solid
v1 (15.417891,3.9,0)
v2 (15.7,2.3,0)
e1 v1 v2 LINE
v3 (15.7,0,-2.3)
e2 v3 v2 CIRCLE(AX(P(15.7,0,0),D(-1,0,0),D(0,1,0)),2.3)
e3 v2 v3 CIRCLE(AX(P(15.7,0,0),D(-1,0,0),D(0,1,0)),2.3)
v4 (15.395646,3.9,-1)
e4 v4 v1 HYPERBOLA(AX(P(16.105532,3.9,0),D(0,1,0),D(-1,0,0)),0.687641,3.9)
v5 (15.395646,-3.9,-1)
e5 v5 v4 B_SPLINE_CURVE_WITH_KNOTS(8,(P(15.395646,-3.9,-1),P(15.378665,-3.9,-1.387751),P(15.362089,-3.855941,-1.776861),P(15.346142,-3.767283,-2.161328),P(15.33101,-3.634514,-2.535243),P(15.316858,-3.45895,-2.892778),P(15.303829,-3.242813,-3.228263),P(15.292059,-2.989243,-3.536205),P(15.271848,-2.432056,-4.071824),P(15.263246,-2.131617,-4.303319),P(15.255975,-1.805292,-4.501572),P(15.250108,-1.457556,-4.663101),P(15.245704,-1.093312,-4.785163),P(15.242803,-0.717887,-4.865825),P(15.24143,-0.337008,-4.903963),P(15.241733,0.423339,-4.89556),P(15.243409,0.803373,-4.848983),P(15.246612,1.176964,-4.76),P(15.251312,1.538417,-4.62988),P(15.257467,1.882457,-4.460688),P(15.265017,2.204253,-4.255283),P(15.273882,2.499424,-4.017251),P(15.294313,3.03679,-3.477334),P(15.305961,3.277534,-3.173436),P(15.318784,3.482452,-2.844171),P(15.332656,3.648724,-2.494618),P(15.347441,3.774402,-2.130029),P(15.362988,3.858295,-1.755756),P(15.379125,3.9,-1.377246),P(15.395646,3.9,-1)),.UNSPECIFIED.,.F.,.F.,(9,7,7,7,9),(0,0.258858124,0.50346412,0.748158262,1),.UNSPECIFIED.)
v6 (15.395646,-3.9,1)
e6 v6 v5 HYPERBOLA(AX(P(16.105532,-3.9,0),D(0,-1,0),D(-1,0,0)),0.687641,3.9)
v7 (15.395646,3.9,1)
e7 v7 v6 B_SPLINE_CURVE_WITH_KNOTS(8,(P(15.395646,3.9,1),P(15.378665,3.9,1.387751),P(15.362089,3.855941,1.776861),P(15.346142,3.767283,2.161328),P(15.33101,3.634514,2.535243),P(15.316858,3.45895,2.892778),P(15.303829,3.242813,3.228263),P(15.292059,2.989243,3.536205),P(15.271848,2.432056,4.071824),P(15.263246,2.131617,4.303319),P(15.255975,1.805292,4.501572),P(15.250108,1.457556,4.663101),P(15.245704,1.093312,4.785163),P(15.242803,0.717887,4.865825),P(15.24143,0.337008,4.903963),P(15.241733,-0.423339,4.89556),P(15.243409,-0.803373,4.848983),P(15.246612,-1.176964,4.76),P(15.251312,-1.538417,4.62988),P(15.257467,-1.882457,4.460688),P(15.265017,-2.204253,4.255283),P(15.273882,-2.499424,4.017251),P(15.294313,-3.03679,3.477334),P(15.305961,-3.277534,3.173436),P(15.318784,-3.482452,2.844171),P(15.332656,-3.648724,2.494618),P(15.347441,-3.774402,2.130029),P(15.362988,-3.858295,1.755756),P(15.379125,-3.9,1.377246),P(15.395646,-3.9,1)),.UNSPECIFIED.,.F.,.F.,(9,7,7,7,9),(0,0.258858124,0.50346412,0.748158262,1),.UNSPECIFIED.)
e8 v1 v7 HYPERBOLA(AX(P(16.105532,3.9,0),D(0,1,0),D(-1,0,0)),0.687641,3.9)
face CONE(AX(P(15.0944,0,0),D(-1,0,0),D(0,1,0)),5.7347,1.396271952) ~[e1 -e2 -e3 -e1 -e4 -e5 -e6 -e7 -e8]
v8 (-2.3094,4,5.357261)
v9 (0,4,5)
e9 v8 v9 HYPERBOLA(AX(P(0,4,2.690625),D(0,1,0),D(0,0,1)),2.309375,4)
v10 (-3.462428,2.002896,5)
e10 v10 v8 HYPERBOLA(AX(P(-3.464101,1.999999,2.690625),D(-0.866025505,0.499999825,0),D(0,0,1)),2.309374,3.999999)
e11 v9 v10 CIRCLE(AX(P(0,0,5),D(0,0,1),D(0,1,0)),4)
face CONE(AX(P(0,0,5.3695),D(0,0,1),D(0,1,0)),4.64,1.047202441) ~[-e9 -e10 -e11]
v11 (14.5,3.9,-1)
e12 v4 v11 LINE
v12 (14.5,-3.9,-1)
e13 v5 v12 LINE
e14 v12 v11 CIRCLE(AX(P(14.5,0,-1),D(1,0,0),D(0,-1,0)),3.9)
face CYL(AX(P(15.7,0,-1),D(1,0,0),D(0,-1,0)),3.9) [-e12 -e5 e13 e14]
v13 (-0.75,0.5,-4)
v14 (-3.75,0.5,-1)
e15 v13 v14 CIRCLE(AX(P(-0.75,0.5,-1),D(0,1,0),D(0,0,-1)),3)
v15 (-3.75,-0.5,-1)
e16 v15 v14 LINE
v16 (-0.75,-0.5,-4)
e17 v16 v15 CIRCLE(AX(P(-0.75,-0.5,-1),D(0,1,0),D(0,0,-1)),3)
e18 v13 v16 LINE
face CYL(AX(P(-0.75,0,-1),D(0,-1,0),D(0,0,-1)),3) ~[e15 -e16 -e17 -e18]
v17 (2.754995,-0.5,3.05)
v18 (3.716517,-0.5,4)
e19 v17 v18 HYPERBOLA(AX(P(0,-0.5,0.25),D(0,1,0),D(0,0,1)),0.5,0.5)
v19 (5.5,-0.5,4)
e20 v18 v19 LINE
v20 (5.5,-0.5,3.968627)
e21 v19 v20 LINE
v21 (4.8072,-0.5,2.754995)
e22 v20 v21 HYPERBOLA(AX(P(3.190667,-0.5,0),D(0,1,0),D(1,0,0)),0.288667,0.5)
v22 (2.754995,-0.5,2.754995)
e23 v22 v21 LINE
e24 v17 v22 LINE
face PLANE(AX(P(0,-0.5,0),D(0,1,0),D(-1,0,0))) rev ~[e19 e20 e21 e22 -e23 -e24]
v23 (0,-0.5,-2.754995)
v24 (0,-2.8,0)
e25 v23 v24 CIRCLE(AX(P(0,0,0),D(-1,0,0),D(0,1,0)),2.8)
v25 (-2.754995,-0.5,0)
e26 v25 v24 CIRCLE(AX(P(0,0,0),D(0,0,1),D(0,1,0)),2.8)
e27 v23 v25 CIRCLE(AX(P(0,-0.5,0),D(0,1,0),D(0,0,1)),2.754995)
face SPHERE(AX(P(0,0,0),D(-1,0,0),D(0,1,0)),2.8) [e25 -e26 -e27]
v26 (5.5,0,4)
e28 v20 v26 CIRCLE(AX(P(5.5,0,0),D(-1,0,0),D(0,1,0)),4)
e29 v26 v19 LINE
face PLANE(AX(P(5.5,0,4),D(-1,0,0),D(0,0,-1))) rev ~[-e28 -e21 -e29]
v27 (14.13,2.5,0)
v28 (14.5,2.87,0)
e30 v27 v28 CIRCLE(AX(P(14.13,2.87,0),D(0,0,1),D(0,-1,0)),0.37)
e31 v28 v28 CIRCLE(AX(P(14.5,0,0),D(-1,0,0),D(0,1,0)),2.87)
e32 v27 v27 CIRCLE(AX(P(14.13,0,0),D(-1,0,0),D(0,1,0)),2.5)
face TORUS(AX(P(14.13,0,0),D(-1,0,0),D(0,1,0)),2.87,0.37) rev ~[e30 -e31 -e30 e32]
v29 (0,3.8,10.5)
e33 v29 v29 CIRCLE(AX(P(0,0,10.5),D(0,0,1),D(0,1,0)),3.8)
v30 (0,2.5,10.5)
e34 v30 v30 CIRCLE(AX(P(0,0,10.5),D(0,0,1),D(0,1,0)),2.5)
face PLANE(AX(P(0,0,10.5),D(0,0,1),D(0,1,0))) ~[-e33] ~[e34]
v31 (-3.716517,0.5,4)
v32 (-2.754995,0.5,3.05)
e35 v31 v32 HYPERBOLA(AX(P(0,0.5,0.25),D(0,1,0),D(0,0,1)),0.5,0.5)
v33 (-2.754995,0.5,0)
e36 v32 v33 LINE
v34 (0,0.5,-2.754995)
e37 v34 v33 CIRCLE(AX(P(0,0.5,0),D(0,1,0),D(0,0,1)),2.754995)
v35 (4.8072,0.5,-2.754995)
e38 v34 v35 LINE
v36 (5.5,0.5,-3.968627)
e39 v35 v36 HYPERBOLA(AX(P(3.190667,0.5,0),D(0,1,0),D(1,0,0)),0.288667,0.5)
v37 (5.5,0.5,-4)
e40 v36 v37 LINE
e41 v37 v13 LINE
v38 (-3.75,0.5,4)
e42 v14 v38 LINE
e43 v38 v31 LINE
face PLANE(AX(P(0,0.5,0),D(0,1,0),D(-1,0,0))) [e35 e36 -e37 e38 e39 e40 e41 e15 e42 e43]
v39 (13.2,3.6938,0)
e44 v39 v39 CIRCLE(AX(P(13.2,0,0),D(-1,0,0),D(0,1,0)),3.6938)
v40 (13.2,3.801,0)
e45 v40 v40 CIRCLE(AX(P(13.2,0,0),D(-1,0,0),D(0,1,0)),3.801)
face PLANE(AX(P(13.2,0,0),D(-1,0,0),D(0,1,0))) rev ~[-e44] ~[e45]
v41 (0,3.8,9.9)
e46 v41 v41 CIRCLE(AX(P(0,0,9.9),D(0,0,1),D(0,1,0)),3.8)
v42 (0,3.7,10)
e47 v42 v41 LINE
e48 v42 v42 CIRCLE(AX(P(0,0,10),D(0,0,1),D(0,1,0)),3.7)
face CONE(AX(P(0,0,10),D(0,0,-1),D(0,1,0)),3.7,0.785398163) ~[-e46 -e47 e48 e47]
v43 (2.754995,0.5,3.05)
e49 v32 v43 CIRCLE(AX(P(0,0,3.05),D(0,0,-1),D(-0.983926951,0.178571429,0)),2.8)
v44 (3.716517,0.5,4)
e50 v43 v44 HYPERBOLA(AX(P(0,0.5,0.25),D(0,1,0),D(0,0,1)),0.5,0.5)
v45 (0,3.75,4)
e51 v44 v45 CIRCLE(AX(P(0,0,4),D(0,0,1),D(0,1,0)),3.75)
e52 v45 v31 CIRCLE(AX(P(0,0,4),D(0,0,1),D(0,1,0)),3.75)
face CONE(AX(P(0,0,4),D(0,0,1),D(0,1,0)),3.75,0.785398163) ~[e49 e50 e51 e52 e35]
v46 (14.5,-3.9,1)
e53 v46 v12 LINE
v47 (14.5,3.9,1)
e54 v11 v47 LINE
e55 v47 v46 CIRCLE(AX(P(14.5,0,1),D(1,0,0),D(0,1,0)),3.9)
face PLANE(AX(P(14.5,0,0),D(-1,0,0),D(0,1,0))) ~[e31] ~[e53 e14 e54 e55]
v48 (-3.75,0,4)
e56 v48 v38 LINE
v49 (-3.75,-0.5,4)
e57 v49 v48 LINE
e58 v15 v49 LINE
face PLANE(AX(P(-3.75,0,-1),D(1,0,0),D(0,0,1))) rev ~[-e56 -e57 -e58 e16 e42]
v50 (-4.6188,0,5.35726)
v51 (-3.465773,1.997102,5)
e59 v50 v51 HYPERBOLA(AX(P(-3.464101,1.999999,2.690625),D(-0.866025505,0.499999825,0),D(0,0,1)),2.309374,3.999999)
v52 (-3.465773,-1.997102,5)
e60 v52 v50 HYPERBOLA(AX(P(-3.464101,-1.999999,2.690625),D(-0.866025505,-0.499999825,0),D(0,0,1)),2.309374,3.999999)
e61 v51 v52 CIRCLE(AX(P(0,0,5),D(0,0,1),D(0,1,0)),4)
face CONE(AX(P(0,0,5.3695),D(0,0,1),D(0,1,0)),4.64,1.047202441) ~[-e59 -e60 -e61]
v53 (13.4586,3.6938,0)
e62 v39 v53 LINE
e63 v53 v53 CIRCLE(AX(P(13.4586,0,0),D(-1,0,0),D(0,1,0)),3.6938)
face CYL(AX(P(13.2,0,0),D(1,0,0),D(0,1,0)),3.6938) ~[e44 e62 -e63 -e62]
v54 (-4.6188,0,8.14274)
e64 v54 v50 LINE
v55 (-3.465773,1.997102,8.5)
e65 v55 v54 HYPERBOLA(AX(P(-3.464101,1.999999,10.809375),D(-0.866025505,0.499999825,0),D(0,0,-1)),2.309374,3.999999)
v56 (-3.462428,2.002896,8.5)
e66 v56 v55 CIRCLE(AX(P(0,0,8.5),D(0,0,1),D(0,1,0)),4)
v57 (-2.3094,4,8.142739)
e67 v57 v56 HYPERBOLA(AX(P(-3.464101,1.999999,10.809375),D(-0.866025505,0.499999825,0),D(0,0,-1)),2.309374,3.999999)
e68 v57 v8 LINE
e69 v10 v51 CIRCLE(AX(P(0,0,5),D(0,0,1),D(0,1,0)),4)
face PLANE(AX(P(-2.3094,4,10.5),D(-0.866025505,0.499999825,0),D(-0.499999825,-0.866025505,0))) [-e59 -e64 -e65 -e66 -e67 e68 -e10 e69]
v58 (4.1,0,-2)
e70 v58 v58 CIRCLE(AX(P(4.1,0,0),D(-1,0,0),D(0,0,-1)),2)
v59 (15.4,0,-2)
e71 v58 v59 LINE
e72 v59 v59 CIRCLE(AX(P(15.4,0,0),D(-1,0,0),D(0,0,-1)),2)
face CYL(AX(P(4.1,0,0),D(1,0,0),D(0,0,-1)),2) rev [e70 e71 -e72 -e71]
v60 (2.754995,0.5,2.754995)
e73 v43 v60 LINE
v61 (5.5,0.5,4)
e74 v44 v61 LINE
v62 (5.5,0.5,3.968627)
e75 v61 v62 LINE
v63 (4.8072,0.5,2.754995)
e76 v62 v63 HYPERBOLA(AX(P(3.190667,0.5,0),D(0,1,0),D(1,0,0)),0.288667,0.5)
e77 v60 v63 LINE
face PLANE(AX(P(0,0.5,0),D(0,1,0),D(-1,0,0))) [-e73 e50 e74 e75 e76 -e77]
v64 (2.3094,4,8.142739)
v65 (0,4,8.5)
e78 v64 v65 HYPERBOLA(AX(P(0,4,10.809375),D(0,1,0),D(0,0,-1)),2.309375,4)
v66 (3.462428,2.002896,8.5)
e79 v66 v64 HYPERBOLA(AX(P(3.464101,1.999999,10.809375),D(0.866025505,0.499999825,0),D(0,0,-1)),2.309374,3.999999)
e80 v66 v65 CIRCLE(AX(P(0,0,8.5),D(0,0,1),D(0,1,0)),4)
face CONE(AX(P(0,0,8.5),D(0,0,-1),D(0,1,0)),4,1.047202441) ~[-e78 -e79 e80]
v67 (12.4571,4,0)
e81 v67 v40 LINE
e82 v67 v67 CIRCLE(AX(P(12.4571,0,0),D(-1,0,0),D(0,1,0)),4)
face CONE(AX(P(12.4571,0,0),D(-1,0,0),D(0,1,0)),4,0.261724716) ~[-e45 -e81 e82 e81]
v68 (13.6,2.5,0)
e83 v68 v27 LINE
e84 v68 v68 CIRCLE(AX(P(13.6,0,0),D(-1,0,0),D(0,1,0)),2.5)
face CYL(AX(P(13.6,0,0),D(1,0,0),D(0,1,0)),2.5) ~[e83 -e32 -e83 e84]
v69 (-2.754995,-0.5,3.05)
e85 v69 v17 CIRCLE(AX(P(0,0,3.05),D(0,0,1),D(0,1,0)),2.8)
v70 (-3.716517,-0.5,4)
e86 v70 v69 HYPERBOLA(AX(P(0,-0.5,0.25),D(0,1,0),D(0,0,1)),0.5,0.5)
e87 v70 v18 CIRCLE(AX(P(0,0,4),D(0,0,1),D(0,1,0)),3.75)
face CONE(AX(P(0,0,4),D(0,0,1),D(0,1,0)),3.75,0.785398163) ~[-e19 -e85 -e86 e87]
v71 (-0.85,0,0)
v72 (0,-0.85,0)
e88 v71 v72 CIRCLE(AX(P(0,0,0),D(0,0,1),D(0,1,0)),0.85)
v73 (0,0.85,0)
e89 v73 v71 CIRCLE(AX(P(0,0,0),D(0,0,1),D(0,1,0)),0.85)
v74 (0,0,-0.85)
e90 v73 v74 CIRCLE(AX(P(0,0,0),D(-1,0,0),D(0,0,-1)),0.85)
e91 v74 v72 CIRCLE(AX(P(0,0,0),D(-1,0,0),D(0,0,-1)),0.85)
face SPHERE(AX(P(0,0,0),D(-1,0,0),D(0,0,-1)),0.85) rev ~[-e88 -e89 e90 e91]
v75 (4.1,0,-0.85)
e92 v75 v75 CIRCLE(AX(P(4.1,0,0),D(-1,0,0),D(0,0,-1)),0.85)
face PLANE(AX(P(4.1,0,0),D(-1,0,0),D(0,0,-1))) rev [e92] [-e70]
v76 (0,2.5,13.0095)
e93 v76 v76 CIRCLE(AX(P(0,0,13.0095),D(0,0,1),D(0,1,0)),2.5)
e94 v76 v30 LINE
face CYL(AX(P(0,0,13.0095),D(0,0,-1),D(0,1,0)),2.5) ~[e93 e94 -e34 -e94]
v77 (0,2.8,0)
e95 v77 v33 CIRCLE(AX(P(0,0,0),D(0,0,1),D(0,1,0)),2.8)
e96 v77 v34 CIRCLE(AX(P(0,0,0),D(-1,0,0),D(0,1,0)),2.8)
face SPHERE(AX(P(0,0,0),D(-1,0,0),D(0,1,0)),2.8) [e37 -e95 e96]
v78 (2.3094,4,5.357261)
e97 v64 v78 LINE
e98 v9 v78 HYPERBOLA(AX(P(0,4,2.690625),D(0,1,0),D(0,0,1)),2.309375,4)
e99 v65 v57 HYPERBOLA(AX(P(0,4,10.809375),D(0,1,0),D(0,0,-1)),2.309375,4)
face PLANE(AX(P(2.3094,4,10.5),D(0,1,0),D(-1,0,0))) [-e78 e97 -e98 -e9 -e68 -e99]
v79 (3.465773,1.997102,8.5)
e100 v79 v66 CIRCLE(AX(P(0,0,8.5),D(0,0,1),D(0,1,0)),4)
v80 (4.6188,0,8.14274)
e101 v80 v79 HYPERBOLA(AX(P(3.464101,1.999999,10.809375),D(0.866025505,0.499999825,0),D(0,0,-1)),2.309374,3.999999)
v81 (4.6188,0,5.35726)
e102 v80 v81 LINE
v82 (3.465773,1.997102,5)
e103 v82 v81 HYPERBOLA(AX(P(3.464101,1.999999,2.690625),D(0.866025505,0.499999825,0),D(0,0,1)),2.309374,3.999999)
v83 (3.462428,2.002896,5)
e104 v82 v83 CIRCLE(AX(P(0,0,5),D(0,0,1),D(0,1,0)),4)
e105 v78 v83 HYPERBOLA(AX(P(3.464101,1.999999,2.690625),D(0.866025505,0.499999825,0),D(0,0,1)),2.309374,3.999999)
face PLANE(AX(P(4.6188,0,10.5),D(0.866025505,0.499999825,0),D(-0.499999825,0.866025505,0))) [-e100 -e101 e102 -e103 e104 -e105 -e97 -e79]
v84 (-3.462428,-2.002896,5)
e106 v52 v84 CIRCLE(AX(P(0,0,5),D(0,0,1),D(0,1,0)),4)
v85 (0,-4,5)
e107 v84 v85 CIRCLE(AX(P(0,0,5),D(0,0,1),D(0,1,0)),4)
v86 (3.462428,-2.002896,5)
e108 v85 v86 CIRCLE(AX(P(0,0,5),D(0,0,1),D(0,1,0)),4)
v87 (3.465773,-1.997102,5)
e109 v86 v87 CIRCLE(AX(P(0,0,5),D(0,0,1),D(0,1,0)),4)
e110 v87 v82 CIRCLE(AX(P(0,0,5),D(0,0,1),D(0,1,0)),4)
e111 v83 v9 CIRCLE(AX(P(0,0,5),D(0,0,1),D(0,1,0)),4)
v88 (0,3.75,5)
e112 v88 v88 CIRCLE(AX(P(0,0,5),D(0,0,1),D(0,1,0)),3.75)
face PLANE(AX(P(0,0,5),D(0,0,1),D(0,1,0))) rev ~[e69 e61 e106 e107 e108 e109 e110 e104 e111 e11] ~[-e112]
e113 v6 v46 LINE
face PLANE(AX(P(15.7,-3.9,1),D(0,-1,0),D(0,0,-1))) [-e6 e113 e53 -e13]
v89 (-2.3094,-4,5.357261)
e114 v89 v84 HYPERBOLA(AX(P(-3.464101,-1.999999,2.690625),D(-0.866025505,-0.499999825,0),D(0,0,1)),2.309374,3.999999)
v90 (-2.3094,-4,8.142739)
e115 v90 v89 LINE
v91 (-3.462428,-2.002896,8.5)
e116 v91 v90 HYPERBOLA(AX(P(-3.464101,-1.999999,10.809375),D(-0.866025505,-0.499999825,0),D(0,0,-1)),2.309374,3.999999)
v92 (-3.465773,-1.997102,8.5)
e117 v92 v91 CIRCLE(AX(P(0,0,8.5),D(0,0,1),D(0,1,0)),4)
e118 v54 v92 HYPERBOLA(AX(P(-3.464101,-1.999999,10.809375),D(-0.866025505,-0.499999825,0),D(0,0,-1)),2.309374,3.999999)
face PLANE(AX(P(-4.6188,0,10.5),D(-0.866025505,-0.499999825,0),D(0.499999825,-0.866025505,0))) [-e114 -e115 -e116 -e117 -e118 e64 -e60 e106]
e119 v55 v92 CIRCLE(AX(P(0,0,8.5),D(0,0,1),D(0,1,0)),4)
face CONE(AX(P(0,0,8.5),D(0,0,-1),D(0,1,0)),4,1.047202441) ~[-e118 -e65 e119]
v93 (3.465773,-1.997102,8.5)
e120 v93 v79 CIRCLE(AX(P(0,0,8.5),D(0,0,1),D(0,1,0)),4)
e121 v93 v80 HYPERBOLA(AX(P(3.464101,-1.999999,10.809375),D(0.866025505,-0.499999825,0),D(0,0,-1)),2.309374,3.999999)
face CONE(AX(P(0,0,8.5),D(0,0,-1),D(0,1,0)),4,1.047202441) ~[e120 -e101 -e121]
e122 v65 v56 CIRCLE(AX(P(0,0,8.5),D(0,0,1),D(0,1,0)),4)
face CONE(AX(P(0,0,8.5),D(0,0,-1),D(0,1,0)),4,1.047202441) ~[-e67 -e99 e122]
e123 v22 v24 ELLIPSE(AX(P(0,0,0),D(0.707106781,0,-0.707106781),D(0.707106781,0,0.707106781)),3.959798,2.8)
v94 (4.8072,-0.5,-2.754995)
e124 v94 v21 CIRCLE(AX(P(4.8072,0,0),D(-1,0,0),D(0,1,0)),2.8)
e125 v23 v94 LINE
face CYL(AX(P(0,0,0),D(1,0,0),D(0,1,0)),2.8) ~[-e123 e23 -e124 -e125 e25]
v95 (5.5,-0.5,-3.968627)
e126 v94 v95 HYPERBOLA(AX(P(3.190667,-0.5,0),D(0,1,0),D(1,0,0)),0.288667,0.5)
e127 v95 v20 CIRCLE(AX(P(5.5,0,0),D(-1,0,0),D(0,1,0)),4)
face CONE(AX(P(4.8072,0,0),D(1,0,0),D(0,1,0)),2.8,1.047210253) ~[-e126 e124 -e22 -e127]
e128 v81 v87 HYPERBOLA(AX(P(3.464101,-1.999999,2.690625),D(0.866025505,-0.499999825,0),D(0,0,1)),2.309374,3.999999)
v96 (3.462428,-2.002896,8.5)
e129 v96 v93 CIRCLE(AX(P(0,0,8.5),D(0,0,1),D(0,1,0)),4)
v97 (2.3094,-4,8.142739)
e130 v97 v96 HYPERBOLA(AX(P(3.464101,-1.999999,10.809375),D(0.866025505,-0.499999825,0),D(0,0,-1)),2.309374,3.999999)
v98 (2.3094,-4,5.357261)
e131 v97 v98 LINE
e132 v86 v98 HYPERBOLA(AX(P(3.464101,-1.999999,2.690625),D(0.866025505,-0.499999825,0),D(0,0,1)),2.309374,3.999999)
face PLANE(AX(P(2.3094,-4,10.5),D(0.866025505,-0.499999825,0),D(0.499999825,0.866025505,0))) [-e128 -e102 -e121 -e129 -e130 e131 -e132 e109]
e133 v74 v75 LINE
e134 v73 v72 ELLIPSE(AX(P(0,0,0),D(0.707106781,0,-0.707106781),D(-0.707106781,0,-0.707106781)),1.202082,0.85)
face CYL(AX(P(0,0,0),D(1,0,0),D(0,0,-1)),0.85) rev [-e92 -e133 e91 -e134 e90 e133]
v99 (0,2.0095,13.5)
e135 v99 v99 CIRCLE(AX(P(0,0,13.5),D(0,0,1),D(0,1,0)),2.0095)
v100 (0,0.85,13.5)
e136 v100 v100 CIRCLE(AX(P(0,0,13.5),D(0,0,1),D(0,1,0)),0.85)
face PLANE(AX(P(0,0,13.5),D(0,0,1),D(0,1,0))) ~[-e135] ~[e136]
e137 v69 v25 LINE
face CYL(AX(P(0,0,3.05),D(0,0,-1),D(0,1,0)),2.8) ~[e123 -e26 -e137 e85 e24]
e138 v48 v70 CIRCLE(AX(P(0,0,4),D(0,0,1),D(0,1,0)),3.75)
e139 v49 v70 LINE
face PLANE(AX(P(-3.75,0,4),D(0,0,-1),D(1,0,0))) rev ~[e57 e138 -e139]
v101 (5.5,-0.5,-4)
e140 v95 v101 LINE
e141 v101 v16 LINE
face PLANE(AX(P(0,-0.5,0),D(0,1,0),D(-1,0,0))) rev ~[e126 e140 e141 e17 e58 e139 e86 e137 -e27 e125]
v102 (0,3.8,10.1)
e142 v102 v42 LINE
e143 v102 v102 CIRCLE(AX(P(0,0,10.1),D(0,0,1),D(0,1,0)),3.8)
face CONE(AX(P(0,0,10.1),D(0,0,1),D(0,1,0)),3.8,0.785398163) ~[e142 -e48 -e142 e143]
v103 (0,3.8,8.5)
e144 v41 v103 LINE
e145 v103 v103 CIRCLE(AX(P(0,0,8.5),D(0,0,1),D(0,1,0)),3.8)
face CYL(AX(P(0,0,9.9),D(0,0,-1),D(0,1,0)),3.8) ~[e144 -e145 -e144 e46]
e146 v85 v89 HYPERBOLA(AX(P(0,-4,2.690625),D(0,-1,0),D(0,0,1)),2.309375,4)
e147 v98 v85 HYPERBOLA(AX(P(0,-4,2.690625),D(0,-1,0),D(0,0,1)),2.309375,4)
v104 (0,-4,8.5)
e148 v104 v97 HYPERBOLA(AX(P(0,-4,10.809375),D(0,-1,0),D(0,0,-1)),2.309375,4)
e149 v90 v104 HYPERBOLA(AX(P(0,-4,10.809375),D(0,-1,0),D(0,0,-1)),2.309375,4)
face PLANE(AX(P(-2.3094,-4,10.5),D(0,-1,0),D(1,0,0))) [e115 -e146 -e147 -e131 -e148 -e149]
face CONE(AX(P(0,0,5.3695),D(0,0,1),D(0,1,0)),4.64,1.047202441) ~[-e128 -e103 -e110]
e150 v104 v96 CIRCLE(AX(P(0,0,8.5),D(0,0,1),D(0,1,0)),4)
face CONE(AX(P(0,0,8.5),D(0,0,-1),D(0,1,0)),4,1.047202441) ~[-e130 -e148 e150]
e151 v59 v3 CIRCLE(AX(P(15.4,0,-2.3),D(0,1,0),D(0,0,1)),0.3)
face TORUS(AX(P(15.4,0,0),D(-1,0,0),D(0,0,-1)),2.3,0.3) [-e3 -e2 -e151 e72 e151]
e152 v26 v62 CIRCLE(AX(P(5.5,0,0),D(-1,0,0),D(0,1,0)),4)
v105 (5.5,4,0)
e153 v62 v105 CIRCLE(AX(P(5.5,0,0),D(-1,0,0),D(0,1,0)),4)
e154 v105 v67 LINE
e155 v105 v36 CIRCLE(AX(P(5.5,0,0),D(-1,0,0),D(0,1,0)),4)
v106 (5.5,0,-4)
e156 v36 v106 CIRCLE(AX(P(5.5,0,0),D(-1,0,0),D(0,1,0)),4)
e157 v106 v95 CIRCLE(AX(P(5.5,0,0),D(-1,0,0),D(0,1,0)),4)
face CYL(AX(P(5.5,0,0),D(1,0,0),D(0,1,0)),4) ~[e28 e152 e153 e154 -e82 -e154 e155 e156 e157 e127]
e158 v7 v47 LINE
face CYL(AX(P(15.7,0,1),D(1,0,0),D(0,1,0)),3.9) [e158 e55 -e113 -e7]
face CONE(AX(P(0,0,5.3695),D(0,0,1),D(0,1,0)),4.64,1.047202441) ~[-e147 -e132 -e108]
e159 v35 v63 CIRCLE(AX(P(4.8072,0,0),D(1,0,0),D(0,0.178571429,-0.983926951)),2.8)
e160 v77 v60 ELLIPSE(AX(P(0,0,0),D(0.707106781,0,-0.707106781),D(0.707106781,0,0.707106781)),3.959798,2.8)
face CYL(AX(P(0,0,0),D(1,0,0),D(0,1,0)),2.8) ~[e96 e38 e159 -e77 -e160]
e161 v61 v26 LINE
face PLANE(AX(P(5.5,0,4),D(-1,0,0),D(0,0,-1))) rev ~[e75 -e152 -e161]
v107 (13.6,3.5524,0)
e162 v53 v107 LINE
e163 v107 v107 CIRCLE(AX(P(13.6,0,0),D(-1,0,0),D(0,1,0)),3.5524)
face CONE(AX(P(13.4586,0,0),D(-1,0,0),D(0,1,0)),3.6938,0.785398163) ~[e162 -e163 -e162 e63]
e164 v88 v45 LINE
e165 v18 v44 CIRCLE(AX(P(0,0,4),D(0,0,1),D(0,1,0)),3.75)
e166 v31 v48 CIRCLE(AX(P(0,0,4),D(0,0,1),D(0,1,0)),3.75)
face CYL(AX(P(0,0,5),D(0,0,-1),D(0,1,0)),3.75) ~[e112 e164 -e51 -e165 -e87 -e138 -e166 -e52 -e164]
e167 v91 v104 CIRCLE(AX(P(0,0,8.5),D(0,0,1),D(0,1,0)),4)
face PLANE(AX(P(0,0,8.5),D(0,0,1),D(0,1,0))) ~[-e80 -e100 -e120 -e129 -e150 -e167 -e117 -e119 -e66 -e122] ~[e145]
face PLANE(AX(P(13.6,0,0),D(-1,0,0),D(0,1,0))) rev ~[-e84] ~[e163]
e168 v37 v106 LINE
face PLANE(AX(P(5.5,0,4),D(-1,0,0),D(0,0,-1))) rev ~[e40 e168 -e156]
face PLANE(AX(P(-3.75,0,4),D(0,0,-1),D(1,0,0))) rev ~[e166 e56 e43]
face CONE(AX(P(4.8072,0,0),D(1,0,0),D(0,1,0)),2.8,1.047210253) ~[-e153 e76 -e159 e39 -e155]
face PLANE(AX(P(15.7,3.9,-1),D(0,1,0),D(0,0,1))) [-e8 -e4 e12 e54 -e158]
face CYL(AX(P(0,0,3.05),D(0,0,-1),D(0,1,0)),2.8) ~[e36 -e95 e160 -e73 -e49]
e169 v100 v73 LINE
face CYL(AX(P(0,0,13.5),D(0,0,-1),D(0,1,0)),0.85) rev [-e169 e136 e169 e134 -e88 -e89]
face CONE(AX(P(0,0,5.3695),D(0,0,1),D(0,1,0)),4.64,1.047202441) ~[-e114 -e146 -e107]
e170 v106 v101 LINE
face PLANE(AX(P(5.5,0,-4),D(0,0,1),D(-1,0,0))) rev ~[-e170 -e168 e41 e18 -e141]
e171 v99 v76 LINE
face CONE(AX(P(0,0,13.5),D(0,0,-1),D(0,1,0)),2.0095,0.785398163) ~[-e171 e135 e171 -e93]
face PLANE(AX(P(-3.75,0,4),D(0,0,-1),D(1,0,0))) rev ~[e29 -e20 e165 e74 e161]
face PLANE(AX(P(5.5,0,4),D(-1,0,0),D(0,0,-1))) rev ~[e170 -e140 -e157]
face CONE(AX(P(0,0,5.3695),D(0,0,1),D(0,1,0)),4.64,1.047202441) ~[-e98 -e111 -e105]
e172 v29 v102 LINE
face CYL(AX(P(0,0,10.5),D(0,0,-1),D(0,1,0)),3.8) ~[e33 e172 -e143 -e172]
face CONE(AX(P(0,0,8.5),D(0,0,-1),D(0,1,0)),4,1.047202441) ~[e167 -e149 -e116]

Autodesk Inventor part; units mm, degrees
sketch "Sketch_1" plane through (0, 0, 0) normal (0, 0, 1) x (1, 0, 0)
  line L0 (15.7, 0) -> (-2.8, 0)
  arc A0 (0, 2.8) -> (-2.8, 0) centre (0, 0) ccw
  line L1 (0, 2.8) -> (4.8072, 2.8)
  line L2 (4.8072, 2.8) -> (5.5, 4)
  line L3 (5.5, 4) -> (12.4571, 4)
  line L4 (12.4571, 4) -> (13.2, 3.801)
  line L5 (13.2, 3.801) -> (13.2, 3.6938)
  line L6 (13.2, 3.6938) -> (13.4586, 3.6938)
  line L7 (13.4586, 3.6938) -> (13.6, 3.5524)
  line L8 (13.6, 3.5524) -> (13.6, 2.5)
  line L9 (13.6, 2.5) -> (14.13, 2.5)
  arc A1 (14.13, 2.5) -> (14.5, 2.87) centre (14.13, 2.87) ccw
  line L10 (14.5, 2.87) -> (14.5, 5.9)
  line L11 (14.5, 5.9) -> (14.8974, 5.9)
  arc A2 (15.0944, 5.7347) -> (14.8974, 5.9) centre (14.8974, 5.7) ccw
  line L12 (15.0944, 5.7347) -> (15.7, 2.3)
  line L13 (15.7, 2.3) -> (15.7, 0)
  line L14 (15.7, 0) -> (-2.8, 0)
revolve "Revolution1" add sketch "Sketch_1" angle 360 about axis through (15.7, 0, 0) along (-1, 0, 0)
sketch "Sketch_2" plane through (0, 0, 0) normal (1, 0, 0) x (0, 1, 0)
  line L0 (0, 0) -> (0, 10.5)
  line L1 (0, 10.5) -> (3.8, 10.5)
  line L2 (3.8, 10.5) -> (3.8, 10.1)
  line L3 (3.8, 10.1) -> (3.7, 10)
  line L4 (3.7, 10) -> (3.8, 9.9)
  line L5 (3.8, 9.9) -> (3.8, 8.5)
  line L6 (3.8, 8.5) -> (4, 8.5)
  line L7 (4, 8.5) -> (4.64, 8.1305)
  line L8 (4.64, 8.1305) -> (4.64, 5.3695)
  line L9 (4.64, 5.3695) -> (4, 5)
  line L10 (4, 5) -> (3.75, 5)
  line L11 (3.75, 5) -> (3.75, 4)
  line L12 (3.75, 4) -> (2.8, 3.05)
  line L13 (2.8, 3.05) -> (2.8, 0)
  line L14 (2.8, 0) -> (0, 0)
  line L15 (0, 0) -> (0, 10.5)
revolve "Revolution2" add sketch "Sketch_2" angle 360 about axis through (0, 0, 0) along (0, 0, 1)
sketch "Sketch_3" plane through (0, 0, 0) normal (1, 0, 0) x (0, 1, 0)
  line L0 (0, 10.5) -> (0, 13.5)
  line L1 (0, 13.5) -> (2.0095, 13.5)
  line L2 (2.0095, 13.5) -> (2.5, 13.0095)
  line L3 (2.5, 13.0095) -> (2.5, 10.5)
  line L4 (2.5, 10.5) -> (0, 10.5)
  line L5 (0, 10.5) -> (0, 13.5)
revolve "Revolution3" add sketch "Sketch_3" angle 360 about axis through (0, 0, 10.5) along (0, 0, 1)
thread "Thread1" size "M5x0.8" class "6g" standard "ISO Metric profile" full length
sketch "Sketch_11" plane through (15.7, 0, 0) normal (1, 0, 0) x (0, 0, -1)
  line L0 (-9.8, -5.658) -> (0, -11.3161)
  line L1 (0, -11.3161) -> (9.8, -5.658)
  line L2 (9.8, -5.658) -> (9.8, 5.658)
  line L3 (9.8, 5.658) -> (0, 11.3161)
  line L4 (0, 11.3161) -> (-9.8, 5.658)
  line L5 (-9.8, 5.658) -> (-9.8, -5.658)
  arc A0 (-1, 3.9) -> (-1, -3.9) centre (-1, 0) ccw
  line L6 (-1, -3.9) -> (1, -3.9)
  arc A1 (1, -3.9) -> (1, 3.9) centre (1, 0) ccw
  line L7 (1, 3.9) -> (-1, 3.9)
extrude "Extrusion1" cut sketch "Sketch_11" against normal blind 1.2
sketch "Sketch_5" plane through (0, 0, 0) normal (0, 1, 0) x (-1, 0, 0)
  line L0 (-15.7, 0) -> (0.85, 0)
  arc A0 (0, -0.85) -> (0.85, 0) centre (0, 0) ccw
  line L1 (0, -0.85) -> (-4.1, -0.85)
  line L2 (-4.1, -0.85) -> (-4.1, -2)
  line L3 (-4.1, -2) -> (-15.4, -2)
  arc A1 (-15.4, -2) -> (-15.7, -2.3) centre (-15.4, -2.3) ccw
  line L4 (-15.7, -2.3) -> (-15.7, 0)
  line L5 (-15.7, 0) -> (0.85, 0)
sketch "Sketch_15" plane through (0, 0, 0) normal (0, 1, 0) x (-1, 0, 0)
  line L0 (3.75, -1) -> (3.75, 4)
  line L1 (3.75, 4) -> (-5.5, 4)
  line L2 (-5.5, 4) -> (-5.5, -4)
  line L3 (-5.5, -4) -> (0.75, -4)
  arc A0 (0.75, -4) -> (3.75, -1) centre (0.75, -1) ccw
extrude "Extrusion2" add sketch "Sketch_15" along normal mid plane 1
sketch "Sketch_6" plane through (0, 0, 0) normal (1, 0, 0) x (0, 1, 0)
  line L0 (0, 0) -> (0, 13.5)
  line L1 (0, 13.5) -> (0.85, 13.5)
  line L2 (0.85, 13.5) -> (0.85, 0)
  line L3 (0.85, 0) -> (0, 0)
  line L4 (0, 0) -> (0, 13.5)
revolve "Revolution4" cut sketch "Sketch_6" angle 360 about axis through (0, 0, 0) along (0, 0, 1)
revolve "Revolution5" cut sketch "Sketch_5" angle 360 about axis through (15.7, 0, 0) along (-1, 0, 0)
sketch "Sketch_9" plane through (0, 0, 10.5) normal (0, 0, 1) x (1, 0, 0)
  line L0 (-8, -8) -> (8, -8)
  line L1 (8, -8) -> (8, 8)
  line L2 (8, 8) -> (-8, 8)
  line L3 (-8, 8) -> (-8, -8)
  line L4 (-4.6188, 0) -> (-2.3094, -4)
  line L5 (-2.3094, -4) -> (2.3094, -4)
  line L6 (2.3094, -4) -> (4.6188, 0)
  line L7 (4.6188, 0) -> (2.3094, 4)
  line L8 (2.3094, 4) -> (-2.3094, 4)
  line L9 (-2.3094, 4) -> (-4.6188, 0)
extrude "Extrusion3" cut sketch "Sketch_9" against normal blind 6.0556
ref_plane "ANBAU_XY" through (0, 0, 10.5) normal (0, 0, 1) x (1, 0, 0)
ref_plane "ANBAU_YZ" through (0, 0, 10.5) normal (1, 0, 0) x (0, 1, 0)
ref_plane "ANBAU_ZX" through (0, 0, 10.5) normal (0, 1, 0) x (0, 0, 1)
ref_plane "ANBAU_STD_XY" through (0, 0, 10.5) normal (0, 0, -1) x (1, 0, 0)
ref_plane "ANBAU_STD_YZ" through (0, 0, 10.5) normal (1, 0, 0) x (0, -1, 0)
ref_plane "ANBAU_STD_ZX" through (0, 0, 10.5) normal (0, -1, 0) x (0, 0, -1)
ref_plane "CPV_XY" through (0, 0, 10.5) normal (0, 0, -1) x (1, 0, 0)
ref_plane "CPV_YZ" through (0, 0, 10.5) normal (1, 0, 0) x (0, -1, 0)
ref_plane "CPV_ZX" through (0, 0, 10.5) normal (0, -1, 0) x (0, 0, -1)
ref_plane "FDT_MOUNT_XY" through (0, 0, 10.5) normal (0, 0, 1) x (0, 1, 0)
ref_plane "FDT_MOUNT_YZ" through (0, 0, 10.5) normal (0, 1, 0) x (-1, 0, 0)
ref_plane "FDT_MOUNT_ZX" through (0, 0, 10.5) normal (-1, 0, 0) x (0, 0, 1)
ref_plane "FDT_SCHLAUCH_XY" through (4.1, 0, 0) normal (1, 0, 0) x (0, 0, -1)
ref_plane "FDT_SCHLAUCH_YZ" through (4.1, 0, 0) normal (0, 0, -1) x (0, 1, 0)
ref_plane "FDT_SCHLAUCH_ZX" through (4.1, 0, 0) normal (0, 1, 0) x (1, 0, 0)
properties part number "153333 QSML-M5-4"
